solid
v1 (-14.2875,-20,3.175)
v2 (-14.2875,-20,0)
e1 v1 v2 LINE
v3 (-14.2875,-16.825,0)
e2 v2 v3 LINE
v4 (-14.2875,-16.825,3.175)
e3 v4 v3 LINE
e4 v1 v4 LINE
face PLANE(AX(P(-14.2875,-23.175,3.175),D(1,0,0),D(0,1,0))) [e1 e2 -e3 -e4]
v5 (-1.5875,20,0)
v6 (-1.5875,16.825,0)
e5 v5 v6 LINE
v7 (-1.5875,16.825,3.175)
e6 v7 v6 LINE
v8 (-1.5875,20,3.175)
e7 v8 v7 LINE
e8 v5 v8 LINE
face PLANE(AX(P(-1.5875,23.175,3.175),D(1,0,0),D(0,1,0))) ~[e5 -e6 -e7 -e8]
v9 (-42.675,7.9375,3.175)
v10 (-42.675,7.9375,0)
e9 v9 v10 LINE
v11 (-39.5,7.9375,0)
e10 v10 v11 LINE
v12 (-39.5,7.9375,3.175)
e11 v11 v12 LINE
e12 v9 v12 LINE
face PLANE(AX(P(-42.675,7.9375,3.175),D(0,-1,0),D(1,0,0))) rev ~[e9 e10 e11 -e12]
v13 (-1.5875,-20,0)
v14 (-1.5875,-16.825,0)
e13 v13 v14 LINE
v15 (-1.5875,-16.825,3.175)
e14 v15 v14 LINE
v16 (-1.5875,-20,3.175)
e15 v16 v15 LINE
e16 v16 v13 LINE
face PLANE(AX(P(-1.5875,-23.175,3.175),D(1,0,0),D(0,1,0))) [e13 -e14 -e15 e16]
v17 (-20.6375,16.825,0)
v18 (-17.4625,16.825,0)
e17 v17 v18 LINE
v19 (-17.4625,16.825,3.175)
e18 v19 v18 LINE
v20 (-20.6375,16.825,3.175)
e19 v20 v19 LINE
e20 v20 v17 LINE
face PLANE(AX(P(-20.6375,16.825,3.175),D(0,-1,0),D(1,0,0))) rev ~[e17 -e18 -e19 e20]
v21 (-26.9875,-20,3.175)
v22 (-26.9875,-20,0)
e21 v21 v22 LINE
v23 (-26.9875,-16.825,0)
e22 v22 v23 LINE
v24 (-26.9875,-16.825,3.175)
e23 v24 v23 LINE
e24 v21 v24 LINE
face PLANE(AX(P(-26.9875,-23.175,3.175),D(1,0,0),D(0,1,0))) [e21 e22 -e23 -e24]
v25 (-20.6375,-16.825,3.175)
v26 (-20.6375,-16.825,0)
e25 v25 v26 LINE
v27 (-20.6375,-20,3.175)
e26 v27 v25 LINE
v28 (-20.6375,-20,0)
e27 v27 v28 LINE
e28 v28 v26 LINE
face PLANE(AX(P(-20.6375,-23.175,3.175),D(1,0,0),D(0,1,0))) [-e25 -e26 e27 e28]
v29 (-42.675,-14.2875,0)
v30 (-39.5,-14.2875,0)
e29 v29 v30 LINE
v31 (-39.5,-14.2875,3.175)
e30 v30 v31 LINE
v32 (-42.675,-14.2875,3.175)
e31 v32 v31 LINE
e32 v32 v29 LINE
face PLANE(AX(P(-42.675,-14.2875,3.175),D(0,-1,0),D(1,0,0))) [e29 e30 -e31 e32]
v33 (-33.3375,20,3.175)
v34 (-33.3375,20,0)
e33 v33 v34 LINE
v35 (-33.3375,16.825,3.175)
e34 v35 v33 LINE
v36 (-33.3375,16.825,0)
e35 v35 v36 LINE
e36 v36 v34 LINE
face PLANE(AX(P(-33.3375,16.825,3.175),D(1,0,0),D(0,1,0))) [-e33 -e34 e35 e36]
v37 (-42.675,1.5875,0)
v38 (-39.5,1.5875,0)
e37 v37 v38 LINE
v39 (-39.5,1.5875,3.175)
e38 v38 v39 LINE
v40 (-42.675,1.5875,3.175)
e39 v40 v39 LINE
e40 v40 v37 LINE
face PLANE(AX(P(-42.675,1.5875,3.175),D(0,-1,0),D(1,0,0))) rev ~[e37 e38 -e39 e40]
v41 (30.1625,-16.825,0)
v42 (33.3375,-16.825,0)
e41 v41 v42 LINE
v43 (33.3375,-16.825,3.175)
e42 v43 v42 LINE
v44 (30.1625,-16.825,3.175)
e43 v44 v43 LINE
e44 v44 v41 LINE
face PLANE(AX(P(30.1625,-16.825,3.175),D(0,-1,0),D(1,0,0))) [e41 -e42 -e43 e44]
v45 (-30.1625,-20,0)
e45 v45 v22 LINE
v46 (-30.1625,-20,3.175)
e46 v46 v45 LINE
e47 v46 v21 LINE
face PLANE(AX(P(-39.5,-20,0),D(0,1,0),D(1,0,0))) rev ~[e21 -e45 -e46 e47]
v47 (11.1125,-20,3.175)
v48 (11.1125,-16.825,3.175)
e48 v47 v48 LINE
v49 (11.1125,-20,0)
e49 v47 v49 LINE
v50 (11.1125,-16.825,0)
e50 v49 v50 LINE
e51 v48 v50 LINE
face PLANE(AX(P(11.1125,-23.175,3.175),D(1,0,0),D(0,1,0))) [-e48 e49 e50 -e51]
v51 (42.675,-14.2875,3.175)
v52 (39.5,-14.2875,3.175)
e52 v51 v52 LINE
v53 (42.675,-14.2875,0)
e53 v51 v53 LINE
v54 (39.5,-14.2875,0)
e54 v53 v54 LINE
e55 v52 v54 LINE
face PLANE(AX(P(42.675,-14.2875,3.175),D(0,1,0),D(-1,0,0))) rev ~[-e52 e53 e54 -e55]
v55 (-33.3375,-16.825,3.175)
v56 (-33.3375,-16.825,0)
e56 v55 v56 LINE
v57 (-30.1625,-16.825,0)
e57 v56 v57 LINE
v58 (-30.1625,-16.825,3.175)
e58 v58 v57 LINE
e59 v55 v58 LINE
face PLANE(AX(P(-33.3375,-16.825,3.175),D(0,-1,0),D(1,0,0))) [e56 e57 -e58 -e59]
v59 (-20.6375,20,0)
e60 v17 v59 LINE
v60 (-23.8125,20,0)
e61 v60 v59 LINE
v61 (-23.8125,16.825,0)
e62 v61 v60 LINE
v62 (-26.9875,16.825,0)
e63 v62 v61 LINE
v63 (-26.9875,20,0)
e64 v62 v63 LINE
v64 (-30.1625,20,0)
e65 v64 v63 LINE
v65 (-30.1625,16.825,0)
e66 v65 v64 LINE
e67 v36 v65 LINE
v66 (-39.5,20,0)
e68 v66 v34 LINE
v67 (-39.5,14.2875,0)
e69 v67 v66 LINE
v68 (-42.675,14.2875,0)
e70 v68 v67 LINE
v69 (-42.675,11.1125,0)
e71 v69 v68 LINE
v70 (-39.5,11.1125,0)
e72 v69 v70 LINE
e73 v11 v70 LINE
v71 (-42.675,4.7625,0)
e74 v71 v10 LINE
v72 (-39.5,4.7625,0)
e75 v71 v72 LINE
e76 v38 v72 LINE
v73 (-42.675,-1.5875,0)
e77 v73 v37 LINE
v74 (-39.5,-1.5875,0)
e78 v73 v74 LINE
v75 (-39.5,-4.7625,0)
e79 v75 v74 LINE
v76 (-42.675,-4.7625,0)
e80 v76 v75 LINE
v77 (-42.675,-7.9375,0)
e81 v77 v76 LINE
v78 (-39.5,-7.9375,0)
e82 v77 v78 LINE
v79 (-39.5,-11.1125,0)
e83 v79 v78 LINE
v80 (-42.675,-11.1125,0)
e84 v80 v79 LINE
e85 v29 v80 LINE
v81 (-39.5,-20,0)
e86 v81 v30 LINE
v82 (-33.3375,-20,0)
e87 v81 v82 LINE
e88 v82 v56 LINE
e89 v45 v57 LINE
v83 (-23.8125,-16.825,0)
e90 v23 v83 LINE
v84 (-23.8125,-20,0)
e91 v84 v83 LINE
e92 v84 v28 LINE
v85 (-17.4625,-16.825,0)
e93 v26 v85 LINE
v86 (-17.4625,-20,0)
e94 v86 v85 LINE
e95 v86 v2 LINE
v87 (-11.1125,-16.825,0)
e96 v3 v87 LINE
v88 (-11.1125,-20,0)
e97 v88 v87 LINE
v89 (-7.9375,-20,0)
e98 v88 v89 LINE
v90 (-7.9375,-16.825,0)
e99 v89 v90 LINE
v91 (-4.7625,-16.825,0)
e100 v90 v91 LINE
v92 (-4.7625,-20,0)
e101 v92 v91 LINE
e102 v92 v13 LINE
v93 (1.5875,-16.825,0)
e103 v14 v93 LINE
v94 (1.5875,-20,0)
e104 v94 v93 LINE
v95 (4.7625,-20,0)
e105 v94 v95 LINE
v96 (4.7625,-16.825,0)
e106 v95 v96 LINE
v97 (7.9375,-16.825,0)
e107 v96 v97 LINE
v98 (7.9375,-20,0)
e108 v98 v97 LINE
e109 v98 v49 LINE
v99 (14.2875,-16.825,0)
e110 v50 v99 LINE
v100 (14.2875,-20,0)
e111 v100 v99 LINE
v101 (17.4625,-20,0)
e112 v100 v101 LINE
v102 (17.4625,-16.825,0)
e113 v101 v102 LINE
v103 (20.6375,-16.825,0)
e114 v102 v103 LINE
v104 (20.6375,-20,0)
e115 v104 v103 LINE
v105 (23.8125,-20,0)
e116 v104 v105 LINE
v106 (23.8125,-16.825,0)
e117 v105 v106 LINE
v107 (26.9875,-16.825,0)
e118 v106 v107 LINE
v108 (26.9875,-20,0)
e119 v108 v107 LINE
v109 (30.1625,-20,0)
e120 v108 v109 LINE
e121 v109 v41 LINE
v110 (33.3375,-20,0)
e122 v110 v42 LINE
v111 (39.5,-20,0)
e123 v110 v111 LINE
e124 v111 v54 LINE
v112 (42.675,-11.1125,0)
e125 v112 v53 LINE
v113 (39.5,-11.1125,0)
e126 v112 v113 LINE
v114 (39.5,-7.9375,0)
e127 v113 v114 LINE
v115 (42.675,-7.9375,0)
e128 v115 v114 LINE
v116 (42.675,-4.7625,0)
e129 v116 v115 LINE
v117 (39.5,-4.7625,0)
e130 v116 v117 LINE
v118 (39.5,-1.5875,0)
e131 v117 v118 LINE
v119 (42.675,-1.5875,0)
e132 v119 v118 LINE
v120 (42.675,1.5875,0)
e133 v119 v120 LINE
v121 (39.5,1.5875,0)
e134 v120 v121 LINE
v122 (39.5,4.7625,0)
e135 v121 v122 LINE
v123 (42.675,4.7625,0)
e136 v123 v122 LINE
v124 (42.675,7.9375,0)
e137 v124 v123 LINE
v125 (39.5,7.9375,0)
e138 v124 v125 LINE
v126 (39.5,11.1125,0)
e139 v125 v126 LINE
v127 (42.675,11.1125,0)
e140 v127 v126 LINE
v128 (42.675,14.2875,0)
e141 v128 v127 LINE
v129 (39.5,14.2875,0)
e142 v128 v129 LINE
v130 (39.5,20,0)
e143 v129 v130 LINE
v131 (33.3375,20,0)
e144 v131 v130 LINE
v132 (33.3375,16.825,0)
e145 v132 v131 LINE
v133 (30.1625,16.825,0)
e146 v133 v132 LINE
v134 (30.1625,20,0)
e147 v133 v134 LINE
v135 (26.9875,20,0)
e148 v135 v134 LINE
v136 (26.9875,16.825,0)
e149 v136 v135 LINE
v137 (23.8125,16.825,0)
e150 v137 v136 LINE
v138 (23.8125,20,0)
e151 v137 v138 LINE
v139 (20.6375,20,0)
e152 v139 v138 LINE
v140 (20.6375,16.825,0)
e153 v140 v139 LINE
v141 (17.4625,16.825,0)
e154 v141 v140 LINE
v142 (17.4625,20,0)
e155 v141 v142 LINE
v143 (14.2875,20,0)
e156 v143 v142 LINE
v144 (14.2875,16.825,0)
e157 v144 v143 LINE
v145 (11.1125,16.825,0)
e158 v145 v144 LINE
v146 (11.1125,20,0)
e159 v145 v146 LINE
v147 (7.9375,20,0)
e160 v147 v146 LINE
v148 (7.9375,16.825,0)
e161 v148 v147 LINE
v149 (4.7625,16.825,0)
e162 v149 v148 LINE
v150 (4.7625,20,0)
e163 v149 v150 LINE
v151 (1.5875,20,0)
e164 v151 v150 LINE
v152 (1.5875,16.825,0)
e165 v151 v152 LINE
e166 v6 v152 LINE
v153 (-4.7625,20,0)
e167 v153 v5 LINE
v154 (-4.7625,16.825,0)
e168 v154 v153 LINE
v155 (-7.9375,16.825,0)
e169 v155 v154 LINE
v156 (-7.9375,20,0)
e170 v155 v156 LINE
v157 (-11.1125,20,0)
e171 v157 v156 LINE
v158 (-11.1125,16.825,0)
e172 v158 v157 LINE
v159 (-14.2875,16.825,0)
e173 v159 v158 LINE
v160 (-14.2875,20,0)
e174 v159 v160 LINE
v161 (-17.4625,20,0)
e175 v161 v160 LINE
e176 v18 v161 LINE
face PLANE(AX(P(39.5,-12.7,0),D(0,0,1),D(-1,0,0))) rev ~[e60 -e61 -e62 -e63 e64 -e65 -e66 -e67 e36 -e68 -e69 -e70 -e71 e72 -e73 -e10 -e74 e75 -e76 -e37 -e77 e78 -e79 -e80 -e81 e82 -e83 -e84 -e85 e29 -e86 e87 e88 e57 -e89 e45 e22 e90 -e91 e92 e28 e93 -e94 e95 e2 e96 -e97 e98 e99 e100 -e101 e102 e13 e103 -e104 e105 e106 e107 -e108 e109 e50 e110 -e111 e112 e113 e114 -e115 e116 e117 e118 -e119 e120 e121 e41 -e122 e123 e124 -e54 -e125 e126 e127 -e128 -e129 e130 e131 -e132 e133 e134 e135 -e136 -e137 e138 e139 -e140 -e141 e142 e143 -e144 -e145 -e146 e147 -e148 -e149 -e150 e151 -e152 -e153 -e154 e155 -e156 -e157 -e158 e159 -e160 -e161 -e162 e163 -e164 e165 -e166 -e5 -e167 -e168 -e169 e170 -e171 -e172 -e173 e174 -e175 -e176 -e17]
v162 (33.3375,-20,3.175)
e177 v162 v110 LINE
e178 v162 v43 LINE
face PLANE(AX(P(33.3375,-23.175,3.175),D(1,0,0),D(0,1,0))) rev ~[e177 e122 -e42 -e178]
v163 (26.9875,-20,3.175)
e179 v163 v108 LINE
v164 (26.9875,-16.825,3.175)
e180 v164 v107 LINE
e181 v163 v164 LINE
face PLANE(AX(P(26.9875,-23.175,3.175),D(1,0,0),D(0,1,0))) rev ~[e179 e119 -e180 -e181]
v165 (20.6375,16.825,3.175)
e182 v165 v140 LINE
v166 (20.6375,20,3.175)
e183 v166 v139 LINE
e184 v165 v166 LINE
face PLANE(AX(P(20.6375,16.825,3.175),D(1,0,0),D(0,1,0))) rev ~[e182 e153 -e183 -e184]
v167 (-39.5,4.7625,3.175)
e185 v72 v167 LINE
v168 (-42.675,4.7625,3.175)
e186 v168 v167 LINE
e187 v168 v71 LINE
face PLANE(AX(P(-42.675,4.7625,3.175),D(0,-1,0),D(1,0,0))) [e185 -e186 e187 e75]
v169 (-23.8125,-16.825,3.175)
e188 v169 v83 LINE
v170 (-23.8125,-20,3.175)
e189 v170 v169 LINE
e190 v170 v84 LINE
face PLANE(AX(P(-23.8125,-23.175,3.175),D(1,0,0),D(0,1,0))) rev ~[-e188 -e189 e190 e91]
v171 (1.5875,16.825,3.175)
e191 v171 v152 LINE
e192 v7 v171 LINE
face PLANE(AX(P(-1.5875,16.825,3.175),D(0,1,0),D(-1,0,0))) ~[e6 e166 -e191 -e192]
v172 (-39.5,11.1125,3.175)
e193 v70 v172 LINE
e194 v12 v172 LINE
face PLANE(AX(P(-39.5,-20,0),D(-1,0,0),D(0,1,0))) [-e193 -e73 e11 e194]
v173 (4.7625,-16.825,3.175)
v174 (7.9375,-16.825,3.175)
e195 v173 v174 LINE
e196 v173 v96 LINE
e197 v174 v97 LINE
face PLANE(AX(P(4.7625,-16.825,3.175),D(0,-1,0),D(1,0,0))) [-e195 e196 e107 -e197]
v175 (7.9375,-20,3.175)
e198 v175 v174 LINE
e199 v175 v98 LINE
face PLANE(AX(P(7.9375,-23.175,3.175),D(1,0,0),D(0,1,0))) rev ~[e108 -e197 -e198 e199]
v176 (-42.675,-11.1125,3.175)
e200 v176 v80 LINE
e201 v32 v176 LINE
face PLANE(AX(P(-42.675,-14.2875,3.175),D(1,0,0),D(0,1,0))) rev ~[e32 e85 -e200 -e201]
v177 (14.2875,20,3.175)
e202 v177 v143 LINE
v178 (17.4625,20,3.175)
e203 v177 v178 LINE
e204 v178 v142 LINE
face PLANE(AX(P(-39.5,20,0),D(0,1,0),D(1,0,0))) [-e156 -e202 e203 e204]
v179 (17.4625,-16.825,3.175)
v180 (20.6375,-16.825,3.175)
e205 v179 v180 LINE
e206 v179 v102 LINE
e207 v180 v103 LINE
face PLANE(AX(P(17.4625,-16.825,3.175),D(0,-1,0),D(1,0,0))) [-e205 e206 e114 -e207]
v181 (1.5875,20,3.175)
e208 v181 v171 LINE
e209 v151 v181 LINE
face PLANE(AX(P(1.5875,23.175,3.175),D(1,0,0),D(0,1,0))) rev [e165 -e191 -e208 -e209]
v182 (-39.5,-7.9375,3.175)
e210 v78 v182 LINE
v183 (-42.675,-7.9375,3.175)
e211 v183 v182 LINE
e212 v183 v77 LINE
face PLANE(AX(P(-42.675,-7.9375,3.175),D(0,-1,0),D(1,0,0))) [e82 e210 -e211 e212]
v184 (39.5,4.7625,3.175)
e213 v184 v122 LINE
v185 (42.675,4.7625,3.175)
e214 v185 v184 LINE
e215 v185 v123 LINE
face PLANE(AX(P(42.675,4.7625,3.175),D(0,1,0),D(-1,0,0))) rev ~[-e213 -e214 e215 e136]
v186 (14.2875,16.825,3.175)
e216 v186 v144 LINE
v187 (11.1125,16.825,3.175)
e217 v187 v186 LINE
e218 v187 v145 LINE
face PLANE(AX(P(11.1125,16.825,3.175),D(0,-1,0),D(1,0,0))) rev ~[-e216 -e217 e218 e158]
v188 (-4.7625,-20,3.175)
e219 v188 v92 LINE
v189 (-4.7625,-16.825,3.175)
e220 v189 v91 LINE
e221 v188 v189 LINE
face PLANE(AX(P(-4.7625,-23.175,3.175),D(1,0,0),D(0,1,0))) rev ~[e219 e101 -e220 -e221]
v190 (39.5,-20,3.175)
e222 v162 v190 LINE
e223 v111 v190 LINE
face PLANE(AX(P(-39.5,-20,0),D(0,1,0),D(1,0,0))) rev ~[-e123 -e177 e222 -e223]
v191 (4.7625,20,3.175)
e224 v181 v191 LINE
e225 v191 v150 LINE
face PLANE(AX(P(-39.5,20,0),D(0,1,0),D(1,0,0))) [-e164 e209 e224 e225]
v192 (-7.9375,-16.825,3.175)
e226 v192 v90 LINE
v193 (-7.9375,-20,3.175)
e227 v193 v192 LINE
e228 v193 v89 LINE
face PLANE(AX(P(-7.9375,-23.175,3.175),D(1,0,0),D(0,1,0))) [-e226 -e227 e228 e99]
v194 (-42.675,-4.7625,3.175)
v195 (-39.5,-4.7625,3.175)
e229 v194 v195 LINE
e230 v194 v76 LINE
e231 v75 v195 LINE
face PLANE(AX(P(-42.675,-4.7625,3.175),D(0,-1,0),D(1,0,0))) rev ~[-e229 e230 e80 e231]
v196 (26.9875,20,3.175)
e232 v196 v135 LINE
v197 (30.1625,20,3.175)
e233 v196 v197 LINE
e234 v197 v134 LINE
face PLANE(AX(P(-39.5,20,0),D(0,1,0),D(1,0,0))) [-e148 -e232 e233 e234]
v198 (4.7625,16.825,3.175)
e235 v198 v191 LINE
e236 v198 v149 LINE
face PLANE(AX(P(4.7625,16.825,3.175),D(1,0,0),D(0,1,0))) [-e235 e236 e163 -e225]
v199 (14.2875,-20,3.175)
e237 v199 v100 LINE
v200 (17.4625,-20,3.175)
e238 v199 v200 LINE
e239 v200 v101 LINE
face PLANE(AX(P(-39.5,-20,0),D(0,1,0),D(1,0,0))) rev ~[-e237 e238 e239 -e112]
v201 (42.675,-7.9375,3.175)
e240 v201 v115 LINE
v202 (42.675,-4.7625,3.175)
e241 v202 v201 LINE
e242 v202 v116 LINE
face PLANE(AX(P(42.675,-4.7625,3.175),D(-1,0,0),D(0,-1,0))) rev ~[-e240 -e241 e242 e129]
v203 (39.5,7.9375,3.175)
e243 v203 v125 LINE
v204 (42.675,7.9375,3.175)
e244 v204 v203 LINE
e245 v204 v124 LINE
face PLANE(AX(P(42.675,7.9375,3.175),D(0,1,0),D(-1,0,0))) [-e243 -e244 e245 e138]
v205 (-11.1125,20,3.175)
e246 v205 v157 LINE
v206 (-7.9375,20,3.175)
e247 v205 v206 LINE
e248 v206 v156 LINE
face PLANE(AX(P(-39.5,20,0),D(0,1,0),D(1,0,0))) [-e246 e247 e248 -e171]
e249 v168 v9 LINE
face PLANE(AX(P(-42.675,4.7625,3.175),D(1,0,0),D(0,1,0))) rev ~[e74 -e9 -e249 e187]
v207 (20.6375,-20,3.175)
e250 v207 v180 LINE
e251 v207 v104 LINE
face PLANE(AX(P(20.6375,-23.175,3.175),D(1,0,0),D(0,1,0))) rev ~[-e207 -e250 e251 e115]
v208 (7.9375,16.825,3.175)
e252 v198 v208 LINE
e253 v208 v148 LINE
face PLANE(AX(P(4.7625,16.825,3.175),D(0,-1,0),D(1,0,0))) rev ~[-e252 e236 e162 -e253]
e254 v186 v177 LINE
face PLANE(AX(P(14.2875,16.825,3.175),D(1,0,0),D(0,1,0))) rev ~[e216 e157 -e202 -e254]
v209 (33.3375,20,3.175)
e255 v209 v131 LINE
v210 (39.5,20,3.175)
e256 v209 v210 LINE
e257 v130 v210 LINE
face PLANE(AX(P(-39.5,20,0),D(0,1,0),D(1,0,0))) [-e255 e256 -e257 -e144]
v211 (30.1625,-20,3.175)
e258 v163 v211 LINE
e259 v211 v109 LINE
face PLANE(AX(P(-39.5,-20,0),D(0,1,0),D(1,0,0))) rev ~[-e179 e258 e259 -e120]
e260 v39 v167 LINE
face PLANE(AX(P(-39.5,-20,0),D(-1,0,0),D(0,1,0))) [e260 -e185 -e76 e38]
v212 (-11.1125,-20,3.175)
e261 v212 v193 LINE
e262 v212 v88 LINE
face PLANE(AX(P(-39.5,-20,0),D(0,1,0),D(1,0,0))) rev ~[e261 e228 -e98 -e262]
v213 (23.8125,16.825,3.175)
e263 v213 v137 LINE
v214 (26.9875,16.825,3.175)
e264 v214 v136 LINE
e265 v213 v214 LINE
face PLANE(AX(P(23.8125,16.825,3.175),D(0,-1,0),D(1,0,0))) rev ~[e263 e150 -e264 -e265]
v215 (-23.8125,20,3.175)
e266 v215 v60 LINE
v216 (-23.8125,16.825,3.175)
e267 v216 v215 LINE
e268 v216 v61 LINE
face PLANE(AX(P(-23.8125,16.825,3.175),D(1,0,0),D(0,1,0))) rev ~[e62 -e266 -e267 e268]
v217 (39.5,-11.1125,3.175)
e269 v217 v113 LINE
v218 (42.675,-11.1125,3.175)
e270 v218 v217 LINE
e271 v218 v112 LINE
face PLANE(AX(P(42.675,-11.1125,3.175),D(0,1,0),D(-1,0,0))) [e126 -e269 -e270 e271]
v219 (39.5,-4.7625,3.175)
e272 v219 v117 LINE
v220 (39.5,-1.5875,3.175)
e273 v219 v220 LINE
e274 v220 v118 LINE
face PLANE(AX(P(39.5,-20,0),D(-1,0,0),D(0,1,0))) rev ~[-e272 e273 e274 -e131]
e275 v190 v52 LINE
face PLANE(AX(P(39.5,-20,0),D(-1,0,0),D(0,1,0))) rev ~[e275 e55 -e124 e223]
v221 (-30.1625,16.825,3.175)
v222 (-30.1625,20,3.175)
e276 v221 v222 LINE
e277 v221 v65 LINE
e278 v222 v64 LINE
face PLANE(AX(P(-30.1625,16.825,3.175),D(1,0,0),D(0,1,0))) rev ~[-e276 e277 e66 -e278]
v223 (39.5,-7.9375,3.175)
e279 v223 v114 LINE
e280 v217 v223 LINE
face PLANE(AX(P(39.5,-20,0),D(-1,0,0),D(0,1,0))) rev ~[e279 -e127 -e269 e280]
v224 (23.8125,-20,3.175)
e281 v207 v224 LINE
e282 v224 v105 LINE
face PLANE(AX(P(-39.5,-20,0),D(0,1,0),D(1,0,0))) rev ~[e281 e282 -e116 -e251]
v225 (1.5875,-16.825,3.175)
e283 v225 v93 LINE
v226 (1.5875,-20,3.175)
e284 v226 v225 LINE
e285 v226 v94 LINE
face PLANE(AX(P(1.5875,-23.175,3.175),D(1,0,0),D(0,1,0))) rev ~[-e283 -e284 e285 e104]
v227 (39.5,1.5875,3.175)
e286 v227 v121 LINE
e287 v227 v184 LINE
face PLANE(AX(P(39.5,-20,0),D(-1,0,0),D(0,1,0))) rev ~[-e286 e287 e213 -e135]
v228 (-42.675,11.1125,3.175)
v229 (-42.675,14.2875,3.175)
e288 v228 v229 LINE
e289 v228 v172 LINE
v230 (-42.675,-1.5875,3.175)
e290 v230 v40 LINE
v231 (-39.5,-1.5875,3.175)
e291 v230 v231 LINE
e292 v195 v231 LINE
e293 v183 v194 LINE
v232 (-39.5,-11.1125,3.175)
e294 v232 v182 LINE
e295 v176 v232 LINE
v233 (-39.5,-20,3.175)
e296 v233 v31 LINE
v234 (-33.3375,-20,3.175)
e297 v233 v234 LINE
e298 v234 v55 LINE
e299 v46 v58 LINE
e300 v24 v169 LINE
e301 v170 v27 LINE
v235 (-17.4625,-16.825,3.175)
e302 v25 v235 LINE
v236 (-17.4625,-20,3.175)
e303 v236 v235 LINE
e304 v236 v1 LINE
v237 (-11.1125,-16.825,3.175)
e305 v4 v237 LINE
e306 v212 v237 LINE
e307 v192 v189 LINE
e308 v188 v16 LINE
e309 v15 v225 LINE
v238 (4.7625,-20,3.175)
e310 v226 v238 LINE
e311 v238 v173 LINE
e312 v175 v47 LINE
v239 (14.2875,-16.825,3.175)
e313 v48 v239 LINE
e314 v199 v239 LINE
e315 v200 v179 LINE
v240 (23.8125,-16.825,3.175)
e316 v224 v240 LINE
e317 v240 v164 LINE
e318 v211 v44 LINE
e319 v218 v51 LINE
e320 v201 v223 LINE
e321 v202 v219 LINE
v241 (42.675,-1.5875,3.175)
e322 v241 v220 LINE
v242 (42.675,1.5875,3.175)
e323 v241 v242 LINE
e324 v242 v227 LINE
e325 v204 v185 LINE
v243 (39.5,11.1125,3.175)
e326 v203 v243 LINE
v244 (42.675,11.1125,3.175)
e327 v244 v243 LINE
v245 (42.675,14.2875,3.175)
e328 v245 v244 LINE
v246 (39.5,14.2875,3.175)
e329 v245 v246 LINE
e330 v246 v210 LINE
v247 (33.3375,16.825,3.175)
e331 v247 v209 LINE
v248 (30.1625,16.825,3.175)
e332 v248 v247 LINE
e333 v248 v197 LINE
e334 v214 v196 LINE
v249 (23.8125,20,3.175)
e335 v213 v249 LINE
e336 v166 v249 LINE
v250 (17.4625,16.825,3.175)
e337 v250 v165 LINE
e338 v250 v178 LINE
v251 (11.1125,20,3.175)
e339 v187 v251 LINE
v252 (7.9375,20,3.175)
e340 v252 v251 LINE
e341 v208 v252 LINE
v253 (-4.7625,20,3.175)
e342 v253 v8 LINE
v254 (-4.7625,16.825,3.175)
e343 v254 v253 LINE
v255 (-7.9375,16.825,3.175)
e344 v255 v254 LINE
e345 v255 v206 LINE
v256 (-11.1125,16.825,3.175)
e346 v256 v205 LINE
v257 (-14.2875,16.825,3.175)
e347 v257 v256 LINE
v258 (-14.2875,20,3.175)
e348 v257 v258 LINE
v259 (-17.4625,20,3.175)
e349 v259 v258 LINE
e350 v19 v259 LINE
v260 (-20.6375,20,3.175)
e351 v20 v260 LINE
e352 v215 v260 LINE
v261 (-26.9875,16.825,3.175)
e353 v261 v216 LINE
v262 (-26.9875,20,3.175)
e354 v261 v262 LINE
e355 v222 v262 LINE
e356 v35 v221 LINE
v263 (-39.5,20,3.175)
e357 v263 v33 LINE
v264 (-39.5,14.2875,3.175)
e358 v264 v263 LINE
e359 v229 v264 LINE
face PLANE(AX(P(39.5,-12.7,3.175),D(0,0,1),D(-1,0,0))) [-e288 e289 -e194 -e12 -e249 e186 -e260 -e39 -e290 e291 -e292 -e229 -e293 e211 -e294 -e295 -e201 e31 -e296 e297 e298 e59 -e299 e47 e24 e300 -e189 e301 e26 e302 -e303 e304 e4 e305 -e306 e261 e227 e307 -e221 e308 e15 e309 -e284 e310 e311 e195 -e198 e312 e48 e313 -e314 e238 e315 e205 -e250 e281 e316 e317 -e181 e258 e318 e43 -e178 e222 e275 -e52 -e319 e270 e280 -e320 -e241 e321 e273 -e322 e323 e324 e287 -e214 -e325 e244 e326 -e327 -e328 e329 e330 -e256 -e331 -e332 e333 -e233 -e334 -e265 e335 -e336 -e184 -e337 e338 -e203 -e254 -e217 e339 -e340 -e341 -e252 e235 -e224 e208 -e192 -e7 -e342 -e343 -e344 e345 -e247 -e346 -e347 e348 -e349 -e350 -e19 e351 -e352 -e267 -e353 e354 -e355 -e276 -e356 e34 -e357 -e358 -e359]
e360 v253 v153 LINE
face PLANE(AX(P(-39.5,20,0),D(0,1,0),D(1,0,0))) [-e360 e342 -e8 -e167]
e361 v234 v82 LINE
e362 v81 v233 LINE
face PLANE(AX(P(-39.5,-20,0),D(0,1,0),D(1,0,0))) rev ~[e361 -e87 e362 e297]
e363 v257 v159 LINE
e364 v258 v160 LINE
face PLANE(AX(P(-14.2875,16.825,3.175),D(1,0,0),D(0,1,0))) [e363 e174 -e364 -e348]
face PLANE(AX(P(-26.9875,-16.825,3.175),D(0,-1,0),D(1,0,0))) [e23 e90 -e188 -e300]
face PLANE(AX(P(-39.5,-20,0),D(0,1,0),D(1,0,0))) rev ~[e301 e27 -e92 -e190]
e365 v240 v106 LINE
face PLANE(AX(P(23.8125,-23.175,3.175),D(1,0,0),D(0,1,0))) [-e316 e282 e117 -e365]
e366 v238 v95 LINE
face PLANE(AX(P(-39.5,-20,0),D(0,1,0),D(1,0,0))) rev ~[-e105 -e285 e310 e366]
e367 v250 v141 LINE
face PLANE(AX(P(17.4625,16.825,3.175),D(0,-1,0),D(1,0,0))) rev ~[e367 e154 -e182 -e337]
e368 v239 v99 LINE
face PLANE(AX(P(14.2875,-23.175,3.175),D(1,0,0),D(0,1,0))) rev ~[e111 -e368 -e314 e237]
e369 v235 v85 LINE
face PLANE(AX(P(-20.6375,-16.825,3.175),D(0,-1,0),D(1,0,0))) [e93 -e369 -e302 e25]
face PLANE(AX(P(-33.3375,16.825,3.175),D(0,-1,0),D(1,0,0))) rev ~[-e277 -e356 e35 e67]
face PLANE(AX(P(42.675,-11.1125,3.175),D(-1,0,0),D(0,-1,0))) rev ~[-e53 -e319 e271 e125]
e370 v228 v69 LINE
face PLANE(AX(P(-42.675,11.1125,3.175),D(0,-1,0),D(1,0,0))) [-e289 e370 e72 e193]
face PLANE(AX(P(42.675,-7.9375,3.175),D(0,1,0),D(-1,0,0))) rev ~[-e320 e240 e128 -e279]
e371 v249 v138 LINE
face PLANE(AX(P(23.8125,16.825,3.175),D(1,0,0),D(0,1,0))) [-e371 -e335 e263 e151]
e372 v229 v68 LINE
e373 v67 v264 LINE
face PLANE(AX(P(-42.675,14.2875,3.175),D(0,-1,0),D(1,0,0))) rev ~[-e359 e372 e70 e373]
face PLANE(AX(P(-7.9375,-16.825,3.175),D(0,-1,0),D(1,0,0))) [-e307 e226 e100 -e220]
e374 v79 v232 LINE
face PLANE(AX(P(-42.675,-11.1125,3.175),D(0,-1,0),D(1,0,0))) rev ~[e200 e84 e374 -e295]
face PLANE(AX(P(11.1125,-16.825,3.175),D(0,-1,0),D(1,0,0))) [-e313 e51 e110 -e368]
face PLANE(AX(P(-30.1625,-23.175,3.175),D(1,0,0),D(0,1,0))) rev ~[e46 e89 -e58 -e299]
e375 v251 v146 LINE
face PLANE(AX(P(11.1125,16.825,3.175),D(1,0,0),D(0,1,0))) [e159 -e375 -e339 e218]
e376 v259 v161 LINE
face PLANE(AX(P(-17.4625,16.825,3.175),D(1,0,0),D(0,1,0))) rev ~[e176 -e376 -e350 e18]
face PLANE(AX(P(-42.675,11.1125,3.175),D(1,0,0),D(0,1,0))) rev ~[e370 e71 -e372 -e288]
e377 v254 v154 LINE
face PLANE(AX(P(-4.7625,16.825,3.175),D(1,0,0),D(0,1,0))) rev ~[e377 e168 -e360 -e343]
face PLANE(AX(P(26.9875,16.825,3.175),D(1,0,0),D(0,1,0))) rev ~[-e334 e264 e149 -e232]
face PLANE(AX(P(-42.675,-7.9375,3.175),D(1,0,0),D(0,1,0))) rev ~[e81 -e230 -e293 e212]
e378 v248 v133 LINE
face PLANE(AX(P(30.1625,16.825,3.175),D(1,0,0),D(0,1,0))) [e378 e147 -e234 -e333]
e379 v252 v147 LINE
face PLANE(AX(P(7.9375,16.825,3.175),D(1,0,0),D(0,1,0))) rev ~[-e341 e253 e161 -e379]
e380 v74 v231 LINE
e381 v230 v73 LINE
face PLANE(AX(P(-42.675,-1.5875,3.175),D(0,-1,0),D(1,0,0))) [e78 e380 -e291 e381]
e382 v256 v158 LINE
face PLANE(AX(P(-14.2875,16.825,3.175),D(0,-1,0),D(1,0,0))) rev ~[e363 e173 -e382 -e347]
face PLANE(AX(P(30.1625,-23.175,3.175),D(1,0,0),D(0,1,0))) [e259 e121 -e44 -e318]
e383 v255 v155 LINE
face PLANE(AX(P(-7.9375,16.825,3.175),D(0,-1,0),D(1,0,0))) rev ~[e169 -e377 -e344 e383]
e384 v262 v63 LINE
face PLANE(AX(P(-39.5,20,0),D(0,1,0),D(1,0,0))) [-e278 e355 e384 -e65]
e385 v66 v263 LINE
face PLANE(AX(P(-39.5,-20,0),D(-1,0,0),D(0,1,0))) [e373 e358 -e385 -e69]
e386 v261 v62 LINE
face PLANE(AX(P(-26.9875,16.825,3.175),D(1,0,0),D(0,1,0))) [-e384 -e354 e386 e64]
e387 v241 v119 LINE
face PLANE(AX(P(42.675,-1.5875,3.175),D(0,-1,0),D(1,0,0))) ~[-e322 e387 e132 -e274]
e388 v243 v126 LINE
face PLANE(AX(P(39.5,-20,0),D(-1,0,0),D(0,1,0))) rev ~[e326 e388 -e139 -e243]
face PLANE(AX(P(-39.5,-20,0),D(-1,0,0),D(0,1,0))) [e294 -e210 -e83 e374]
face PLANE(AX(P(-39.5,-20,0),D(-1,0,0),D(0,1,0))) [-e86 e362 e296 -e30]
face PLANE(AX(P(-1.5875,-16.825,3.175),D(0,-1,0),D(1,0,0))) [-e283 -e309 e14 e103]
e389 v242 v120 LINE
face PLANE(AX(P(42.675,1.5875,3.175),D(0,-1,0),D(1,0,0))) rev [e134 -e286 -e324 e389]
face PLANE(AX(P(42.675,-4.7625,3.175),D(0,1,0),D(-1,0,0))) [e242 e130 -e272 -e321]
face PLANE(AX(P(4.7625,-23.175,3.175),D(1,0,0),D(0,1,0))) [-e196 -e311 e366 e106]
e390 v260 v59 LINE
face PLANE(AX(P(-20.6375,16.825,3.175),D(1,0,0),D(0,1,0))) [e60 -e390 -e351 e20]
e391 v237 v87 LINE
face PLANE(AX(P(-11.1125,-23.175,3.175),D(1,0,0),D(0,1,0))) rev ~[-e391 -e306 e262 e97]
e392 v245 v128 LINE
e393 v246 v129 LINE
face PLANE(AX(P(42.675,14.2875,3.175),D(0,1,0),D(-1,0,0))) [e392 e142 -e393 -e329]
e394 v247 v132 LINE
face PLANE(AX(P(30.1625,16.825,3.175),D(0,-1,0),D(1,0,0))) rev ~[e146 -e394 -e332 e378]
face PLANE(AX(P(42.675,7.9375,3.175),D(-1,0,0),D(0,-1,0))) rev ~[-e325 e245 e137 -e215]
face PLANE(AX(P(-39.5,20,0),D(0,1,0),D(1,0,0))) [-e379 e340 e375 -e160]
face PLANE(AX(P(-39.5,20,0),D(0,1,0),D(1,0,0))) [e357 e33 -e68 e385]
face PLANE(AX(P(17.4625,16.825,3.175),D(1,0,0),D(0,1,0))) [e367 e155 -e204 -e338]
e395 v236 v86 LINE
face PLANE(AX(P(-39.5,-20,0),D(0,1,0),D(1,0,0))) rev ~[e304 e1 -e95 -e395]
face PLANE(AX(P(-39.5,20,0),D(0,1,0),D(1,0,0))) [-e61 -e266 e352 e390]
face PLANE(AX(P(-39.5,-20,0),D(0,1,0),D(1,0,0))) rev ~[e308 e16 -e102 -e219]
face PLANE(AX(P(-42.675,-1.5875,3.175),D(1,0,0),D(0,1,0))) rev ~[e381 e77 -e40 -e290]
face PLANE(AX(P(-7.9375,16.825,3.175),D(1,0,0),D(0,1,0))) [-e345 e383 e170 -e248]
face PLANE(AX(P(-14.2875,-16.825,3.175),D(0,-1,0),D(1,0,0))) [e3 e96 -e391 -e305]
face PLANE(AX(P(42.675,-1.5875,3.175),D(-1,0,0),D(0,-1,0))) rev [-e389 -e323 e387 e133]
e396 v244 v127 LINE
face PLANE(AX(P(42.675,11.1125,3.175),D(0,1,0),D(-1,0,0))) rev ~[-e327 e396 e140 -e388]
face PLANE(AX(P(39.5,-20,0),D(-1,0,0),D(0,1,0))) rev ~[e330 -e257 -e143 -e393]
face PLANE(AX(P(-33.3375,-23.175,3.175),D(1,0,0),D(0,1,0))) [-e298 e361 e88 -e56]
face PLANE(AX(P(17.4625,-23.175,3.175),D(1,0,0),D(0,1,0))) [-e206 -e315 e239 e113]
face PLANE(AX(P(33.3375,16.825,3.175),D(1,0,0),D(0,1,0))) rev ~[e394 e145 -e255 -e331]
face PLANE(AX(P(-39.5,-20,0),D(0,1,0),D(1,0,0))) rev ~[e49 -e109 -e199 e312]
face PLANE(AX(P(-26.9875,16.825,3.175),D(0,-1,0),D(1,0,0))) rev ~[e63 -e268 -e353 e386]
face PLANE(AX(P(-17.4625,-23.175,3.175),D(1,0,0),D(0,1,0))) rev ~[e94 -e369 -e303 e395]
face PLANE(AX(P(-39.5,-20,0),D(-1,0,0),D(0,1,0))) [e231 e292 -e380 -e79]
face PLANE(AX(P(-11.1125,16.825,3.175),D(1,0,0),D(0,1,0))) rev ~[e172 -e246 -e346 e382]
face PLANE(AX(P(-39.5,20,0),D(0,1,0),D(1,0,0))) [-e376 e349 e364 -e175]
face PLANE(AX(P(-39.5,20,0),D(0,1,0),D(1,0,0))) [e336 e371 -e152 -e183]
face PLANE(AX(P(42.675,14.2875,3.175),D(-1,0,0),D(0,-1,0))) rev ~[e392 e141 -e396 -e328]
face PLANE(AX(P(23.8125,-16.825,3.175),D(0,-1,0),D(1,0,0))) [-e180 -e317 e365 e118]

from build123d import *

# Parameters (mm, degrees)
SKETCH1_W                     = 79
SKETCH1_H                     = 40
BOSS_EXTRUDE1_DEPTH           = 3.175
SKETCH2_W                     = 3.175
SKETCH2_H                     = 6.35
CUT_EXTRUDE1_DEPTH            = 10
LPATTERN1_COUNT               = 6
LPATTERN1_PITCH               = 6.35
LPATTERN1_COPY_1_SKETCH_W     = 3.175
LPATTERN1_COPY_1_SKETCH_H     = 6.35
LPATTERN1_COPY_1_DEPTH        = 10
LPATTERN1_COPY_2_SKETCH_W     = 3.175
LPATTERN1_COPY_2_SKETCH_H     = 6.35
LPATTERN1_COPY_2_DEPTH        = 10
LPATTERN1_COPY_3_SKETCH_W     = 3.175
LPATTERN1_COPY_3_SKETCH_H     = 6.35
LPATTERN1_COPY_3_DEPTH        = 10
LPATTERN1_COPY_4_SKETCH_W     = 3.175
LPATTERN1_COPY_4_SKETCH_H     = 6.35
LPATTERN1_COPY_4_DEPTH        = 10
LPATTERN1_COPY_5_SKETCH_W     = 3.175
LPATTERN1_COPY_5_SKETCH_H     = 6.35
LPATTERN1_COPY_5_DEPTH        = 10
LPATTERN1_COL_COUNT           = 6
LPATTERN1_COL_PITCH           = 6.35
LPATTERN1_COL_COPY_1_SKETCH_W = 3.175
LPATTERN1_COL_COPY_1_SKETCH_H = 6.35
LPATTERN1_COL_COPY_1_DEPTH    = 10
LPATTERN1_COL_COPY_2_SKETCH_W = 3.175
LPATTERN1_COL_COPY_2_SKETCH_H = 6.35
LPATTERN1_COL_COPY_2_DEPTH    = 10
LPATTERN1_COL_COPY_3_SKETCH_W = 3.175
LPATTERN1_COL_COPY_3_SKETCH_H = 6.35
LPATTERN1_COL_COPY_3_DEPTH    = 10
LPATTERN1_COL_COPY_4_SKETCH_W = 3.175
LPATTERN1_COL_COPY_4_SKETCH_H = 6.35
LPATTERN1_COL_COPY_4_DEPTH    = 10
LPATTERN1_COL_COPY_5_SKETCH_W = 3.175
LPATTERN1_COL_COPY_5_SKETCH_H = 6.35
LPATTERN1_COL_COPY_5_DEPTH    = 10
SKETCH3_W                     = 6.35
SKETCH3_H                     = 3.175
BOSS_EXTRUDE2_DEPTH           = 3.175
LPATTERN2_COUNT               = 3
LPATTERN2_PITCH               = 6.35
LPATTERN2_COL_COUNT           = 3
LPATTERN2_COL_PITCH           = 6.35
MIRROR2_COPY_1_SKETCH_W       = 6.35
MIRROR2_COPY_1_SKETCH_H       = 3.175
MIRROR2_COPY_1_DEPTH          = 3.175
MIRROR2_COPY_2_SKETCH_W       = 6.35
MIRROR2_COPY_2_SKETCH_H       = 3.175
MIRROR2_COPY_2_DEPTH          = 3.175
MIRROR2_COPY_3_SKETCH_W       = 6.35
MIRROR2_COPY_3_SKETCH_H       = 3.175
MIRROR2_COPY_3_DEPTH          = 3.175
MIRROR2_COPY_4_SKETCH_W       = 6.35
MIRROR2_COPY_4_SKETCH_H       = 3.175
MIRROR2_COPY_4_DEPTH          = 3.175


with BuildPart() as part:
    # Sketch1 → Boss-Extrude1 (new body)
    with BuildSketch(Plane.XY):
        Rectangle(SKETCH1_W, SKETCH1_H)
    extrude(amount=BOSS_EXTRUDE1_DEPTH)

    # Sketch2 → Cut-Extrude1 (cut)
    with BuildSketch(Plane.XY.offset(3.175)):
        with Locations((0, -20)):
            Rectangle(SKETCH2_W, SKETCH2_H)
    cut_extrude1 = extrude(amount=-CUT_EXTRUDE1_DEPTH, mode=Mode.SUBTRACT)

    # Mirror1: Cut-Extrude1 across plane
    add(cut_extrude1.mirror(Plane.ZX), mode=Mode.SUBTRACT)

    # LPattern1: Cut-Extrude1 ×6
    with Locations(*[(i * LPATTERN1_PITCH, 0, 0) for i in range(1, LPATTERN1_COUNT)]):
        add(cut_extrude1, mode=Mode.SUBTRACT)

    # LPattern1 copy 1 sketch → LPattern1 copy 1 (cut)
    with BuildSketch(Plane(origin=(6.35, 0, 3.175), x_dir=(1, 0, 0), z_dir=(0, 0, 1))):
        with Locations((0, 20)):
            Rectangle(LPATTERN1_COPY_1_SKETCH_W, LPATTERN1_COPY_1_SKETCH_H)
    extrude(amount=-LPATTERN1_COPY_1_DEPTH, mode=Mode.SUBTRACT)

    # LPattern1 copy 2 sketch → LPattern1 copy 2 (cut)
    with BuildSketch(Plane(origin=(12.7, 0, 3.175), x_dir=(1, 0, 0), z_dir=(0, 0, 1))):
        with Locations((0, 20)):
            Rectangle(LPATTERN1_COPY_2_SKETCH_W, LPATTERN1_COPY_2_SKETCH_H)
    extrude(amount=-LPATTERN1_COPY_2_DEPTH, mode=Mode.SUBTRACT)

    # LPattern1 copy 3 sketch → LPattern1 copy 3 (cut)
    with BuildSketch(Plane(origin=(19.05, 0, 3.175), x_dir=(1, 0, 0), z_dir=(0, 0, 1))):
        with Locations((0, 20)):
            Rectangle(LPATTERN1_COPY_3_SKETCH_W, LPATTERN1_COPY_3_SKETCH_H)
    extrude(amount=-LPATTERN1_COPY_3_DEPTH, mode=Mode.SUBTRACT)

    # LPattern1 copy 4 sketch → LPattern1 copy 4 (cut)
    with BuildSketch(Plane(origin=(25.4, 0, 3.175), x_dir=(1, 0, 0), z_dir=(0, 0, 1))):
        with Locations((0, 20)):
            Rectangle(LPATTERN1_COPY_4_SKETCH_W, LPATTERN1_COPY_4_SKETCH_H)
    extrude(amount=-LPATTERN1_COPY_4_DEPTH, mode=Mode.SUBTRACT)

    # LPattern1 copy 5 sketch → LPattern1 copy 5 (cut)
    with BuildSketch(Plane(origin=(31.75, 0, 3.175), x_dir=(1, 0, 0), z_dir=(0, 0, 1))):
        with Locations((0, 20)):
            Rectangle(LPATTERN1_COPY_5_SKETCH_W, LPATTERN1_COPY_5_SKETCH_H)
    extrude(amount=-LPATTERN1_COPY_5_DEPTH, mode=Mode.SUBTRACT)

    # LPattern1 col: Cut-Extrude1 ×6
    with Locations(*[(-i * LPATTERN1_COL_PITCH, 0, 0) for i in range(1, LPATTERN1_COL_COUNT)]):
        add(cut_extrude1, mode=Mode.SUBTRACT)

    # LPattern1 col copy 1 sketch → LPattern1 col copy 1 (cut)
    with BuildSketch(Plane(origin=(-6.35, 0, 3.175), x_dir=(1, 0, 0), z_dir=(0, 0, 1))):
        with Locations((0, 20)):
            Rectangle(LPATTERN1_COL_COPY_1_SKETCH_W, LPATTERN1_COL_COPY_1_SKETCH_H)
    extrude(amount=-LPATTERN1_COL_COPY_1_DEPTH, mode=Mode.SUBTRACT)

    # LPattern1 col copy 2 sketch → LPattern1 col copy 2 (cut)
    with BuildSketch(Plane(origin=(-12.7, 0, 3.175), x_dir=(1, 0, 0), z_dir=(0, 0, 1))):
        with Locations((0, 20)):
            Rectangle(LPATTERN1_COL_COPY_2_SKETCH_W, LPATTERN1_COL_COPY_2_SKETCH_H)
    extrude(amount=-LPATTERN1_COL_COPY_2_DEPTH, mode=Mode.SUBTRACT)

    # LPattern1 col copy 3 sketch → LPattern1 col copy 3 (cut)
    with BuildSketch(Plane(origin=(-19.05, 0, 3.175), x_dir=(1, 0, 0), z_dir=(0, 0, 1))):
        with Locations((0, 20)):
            Rectangle(LPATTERN1_COL_COPY_3_SKETCH_W, LPATTERN1_COL_COPY_3_SKETCH_H)
    extrude(amount=-LPATTERN1_COL_COPY_3_DEPTH, mode=Mode.SUBTRACT)

    # LPattern1 col copy 4 sketch → LPattern1 col copy 4 (cut)
    with BuildSketch(Plane(origin=(-25.4, 0, 3.175), x_dir=(1, 0, 0), z_dir=(0, 0, 1))):
        with Locations((0, 20)):
            Rectangle(LPATTERN1_COL_COPY_4_SKETCH_W, LPATTERN1_COL_COPY_4_SKETCH_H)
    extrude(amount=-LPATTERN1_COL_COPY_4_DEPTH, mode=Mode.SUBTRACT)

    # LPattern1 col copy 5 sketch → LPattern1 col copy 5 (cut)
    with BuildSketch(Plane(origin=(-31.75, 0, 3.175), x_dir=(1, 0, 0), z_dir=(0, 0, 1))):
        with Locations((0, 20)):
            Rectangle(LPATTERN1_COL_COPY_5_SKETCH_W, LPATTERN1_COL_COPY_5_SKETCH_H)
    extrude(amount=-LPATTERN1_COL_COPY_5_DEPTH, mode=Mode.SUBTRACT)

    # Sketch3 → Boss-Extrude2 (add)
    with BuildSketch(Plane.XY.offset(3.175)):
        with Locations((-39.5, 0)):
            Rectangle(SKETCH3_W, SKETCH3_H)
    boss_extrude2 = extrude(amount=-BOSS_EXTRUDE2_DEPTH)

    # LPattern2: Boss-Extrude2 ×3
    with Locations(*[(0, i * LPATTERN2_PITCH, 0) for i in range(1, LPATTERN2_COUNT)]):
        add(boss_extrude2)

    # LPattern2 col: Boss-Extrude2 ×3
    with Locations(*[(0, -i * LPATTERN2_COL_PITCH, 0) for i in range(1, LPATTERN2_COL_COUNT)]):
        add(boss_extrude2)

    # Mirror2: Boss-Extrude2 across plane
    add(boss_extrude2.mirror(Plane(origin=(0, 0, 0), x_dir=(0, 0, 1), z_dir=(1, 0, 0))))

    # Mirror2 copy 1 sketch → Mirror2 copy 1 (add)
    with BuildSketch(Plane(origin=(0, 6.35, 3.175), x_dir=(-1, 0, 0), z_dir=(0, 0, 1))):
        with Locations((-39.5, 0)):
            Rectangle(MIRROR2_COPY_1_SKETCH_W, MIRROR2_COPY_1_SKETCH_H)
    extrude(amount=-MIRROR2_COPY_1_DEPTH)

    # Mirror2 copy 2 sketch → Mirror2 copy 2 (add)
    with BuildSketch(Plane(origin=(0, 12.7, 3.175), x_dir=(-1, 0, 0), z_dir=(0, 0, 1))):
        with Locations((-39.5, 0)):
            Rectangle(MIRROR2_COPY_2_SKETCH_W, MIRROR2_COPY_2_SKETCH_H)
    extrude(amount=-MIRROR2_COPY_2_DEPTH)

    # Mirror2 copy 3 sketch → Mirror2 copy 3 (add)
    with BuildSketch(Plane(origin=(0, -6.35, 3.175), x_dir=(-1, 0, 0), z_dir=(0, 0, 1))):
        with Locations((-39.5, 0)):
            Rectangle(MIRROR2_COPY_3_SKETCH_W, MIRROR2_COPY_3_SKETCH_H)
    extrude(amount=-MIRROR2_COPY_3_DEPTH)

    # Mirror2 copy 4 sketch → Mirror2 copy 4 (add)
    with BuildSketch(Plane(origin=(0, -12.7, 3.175), x_dir=(-1, 0, 0), z_dir=(0, 0, 1))):
        with Locations((-39.5, 0)):
            Rectangle(MIRROR2_COPY_4_SKETCH_W, MIRROR2_COPY_4_SKETCH_H)
    extrude(amount=-MIRROR2_COPY_4_DEPTH)


solid = part.part
